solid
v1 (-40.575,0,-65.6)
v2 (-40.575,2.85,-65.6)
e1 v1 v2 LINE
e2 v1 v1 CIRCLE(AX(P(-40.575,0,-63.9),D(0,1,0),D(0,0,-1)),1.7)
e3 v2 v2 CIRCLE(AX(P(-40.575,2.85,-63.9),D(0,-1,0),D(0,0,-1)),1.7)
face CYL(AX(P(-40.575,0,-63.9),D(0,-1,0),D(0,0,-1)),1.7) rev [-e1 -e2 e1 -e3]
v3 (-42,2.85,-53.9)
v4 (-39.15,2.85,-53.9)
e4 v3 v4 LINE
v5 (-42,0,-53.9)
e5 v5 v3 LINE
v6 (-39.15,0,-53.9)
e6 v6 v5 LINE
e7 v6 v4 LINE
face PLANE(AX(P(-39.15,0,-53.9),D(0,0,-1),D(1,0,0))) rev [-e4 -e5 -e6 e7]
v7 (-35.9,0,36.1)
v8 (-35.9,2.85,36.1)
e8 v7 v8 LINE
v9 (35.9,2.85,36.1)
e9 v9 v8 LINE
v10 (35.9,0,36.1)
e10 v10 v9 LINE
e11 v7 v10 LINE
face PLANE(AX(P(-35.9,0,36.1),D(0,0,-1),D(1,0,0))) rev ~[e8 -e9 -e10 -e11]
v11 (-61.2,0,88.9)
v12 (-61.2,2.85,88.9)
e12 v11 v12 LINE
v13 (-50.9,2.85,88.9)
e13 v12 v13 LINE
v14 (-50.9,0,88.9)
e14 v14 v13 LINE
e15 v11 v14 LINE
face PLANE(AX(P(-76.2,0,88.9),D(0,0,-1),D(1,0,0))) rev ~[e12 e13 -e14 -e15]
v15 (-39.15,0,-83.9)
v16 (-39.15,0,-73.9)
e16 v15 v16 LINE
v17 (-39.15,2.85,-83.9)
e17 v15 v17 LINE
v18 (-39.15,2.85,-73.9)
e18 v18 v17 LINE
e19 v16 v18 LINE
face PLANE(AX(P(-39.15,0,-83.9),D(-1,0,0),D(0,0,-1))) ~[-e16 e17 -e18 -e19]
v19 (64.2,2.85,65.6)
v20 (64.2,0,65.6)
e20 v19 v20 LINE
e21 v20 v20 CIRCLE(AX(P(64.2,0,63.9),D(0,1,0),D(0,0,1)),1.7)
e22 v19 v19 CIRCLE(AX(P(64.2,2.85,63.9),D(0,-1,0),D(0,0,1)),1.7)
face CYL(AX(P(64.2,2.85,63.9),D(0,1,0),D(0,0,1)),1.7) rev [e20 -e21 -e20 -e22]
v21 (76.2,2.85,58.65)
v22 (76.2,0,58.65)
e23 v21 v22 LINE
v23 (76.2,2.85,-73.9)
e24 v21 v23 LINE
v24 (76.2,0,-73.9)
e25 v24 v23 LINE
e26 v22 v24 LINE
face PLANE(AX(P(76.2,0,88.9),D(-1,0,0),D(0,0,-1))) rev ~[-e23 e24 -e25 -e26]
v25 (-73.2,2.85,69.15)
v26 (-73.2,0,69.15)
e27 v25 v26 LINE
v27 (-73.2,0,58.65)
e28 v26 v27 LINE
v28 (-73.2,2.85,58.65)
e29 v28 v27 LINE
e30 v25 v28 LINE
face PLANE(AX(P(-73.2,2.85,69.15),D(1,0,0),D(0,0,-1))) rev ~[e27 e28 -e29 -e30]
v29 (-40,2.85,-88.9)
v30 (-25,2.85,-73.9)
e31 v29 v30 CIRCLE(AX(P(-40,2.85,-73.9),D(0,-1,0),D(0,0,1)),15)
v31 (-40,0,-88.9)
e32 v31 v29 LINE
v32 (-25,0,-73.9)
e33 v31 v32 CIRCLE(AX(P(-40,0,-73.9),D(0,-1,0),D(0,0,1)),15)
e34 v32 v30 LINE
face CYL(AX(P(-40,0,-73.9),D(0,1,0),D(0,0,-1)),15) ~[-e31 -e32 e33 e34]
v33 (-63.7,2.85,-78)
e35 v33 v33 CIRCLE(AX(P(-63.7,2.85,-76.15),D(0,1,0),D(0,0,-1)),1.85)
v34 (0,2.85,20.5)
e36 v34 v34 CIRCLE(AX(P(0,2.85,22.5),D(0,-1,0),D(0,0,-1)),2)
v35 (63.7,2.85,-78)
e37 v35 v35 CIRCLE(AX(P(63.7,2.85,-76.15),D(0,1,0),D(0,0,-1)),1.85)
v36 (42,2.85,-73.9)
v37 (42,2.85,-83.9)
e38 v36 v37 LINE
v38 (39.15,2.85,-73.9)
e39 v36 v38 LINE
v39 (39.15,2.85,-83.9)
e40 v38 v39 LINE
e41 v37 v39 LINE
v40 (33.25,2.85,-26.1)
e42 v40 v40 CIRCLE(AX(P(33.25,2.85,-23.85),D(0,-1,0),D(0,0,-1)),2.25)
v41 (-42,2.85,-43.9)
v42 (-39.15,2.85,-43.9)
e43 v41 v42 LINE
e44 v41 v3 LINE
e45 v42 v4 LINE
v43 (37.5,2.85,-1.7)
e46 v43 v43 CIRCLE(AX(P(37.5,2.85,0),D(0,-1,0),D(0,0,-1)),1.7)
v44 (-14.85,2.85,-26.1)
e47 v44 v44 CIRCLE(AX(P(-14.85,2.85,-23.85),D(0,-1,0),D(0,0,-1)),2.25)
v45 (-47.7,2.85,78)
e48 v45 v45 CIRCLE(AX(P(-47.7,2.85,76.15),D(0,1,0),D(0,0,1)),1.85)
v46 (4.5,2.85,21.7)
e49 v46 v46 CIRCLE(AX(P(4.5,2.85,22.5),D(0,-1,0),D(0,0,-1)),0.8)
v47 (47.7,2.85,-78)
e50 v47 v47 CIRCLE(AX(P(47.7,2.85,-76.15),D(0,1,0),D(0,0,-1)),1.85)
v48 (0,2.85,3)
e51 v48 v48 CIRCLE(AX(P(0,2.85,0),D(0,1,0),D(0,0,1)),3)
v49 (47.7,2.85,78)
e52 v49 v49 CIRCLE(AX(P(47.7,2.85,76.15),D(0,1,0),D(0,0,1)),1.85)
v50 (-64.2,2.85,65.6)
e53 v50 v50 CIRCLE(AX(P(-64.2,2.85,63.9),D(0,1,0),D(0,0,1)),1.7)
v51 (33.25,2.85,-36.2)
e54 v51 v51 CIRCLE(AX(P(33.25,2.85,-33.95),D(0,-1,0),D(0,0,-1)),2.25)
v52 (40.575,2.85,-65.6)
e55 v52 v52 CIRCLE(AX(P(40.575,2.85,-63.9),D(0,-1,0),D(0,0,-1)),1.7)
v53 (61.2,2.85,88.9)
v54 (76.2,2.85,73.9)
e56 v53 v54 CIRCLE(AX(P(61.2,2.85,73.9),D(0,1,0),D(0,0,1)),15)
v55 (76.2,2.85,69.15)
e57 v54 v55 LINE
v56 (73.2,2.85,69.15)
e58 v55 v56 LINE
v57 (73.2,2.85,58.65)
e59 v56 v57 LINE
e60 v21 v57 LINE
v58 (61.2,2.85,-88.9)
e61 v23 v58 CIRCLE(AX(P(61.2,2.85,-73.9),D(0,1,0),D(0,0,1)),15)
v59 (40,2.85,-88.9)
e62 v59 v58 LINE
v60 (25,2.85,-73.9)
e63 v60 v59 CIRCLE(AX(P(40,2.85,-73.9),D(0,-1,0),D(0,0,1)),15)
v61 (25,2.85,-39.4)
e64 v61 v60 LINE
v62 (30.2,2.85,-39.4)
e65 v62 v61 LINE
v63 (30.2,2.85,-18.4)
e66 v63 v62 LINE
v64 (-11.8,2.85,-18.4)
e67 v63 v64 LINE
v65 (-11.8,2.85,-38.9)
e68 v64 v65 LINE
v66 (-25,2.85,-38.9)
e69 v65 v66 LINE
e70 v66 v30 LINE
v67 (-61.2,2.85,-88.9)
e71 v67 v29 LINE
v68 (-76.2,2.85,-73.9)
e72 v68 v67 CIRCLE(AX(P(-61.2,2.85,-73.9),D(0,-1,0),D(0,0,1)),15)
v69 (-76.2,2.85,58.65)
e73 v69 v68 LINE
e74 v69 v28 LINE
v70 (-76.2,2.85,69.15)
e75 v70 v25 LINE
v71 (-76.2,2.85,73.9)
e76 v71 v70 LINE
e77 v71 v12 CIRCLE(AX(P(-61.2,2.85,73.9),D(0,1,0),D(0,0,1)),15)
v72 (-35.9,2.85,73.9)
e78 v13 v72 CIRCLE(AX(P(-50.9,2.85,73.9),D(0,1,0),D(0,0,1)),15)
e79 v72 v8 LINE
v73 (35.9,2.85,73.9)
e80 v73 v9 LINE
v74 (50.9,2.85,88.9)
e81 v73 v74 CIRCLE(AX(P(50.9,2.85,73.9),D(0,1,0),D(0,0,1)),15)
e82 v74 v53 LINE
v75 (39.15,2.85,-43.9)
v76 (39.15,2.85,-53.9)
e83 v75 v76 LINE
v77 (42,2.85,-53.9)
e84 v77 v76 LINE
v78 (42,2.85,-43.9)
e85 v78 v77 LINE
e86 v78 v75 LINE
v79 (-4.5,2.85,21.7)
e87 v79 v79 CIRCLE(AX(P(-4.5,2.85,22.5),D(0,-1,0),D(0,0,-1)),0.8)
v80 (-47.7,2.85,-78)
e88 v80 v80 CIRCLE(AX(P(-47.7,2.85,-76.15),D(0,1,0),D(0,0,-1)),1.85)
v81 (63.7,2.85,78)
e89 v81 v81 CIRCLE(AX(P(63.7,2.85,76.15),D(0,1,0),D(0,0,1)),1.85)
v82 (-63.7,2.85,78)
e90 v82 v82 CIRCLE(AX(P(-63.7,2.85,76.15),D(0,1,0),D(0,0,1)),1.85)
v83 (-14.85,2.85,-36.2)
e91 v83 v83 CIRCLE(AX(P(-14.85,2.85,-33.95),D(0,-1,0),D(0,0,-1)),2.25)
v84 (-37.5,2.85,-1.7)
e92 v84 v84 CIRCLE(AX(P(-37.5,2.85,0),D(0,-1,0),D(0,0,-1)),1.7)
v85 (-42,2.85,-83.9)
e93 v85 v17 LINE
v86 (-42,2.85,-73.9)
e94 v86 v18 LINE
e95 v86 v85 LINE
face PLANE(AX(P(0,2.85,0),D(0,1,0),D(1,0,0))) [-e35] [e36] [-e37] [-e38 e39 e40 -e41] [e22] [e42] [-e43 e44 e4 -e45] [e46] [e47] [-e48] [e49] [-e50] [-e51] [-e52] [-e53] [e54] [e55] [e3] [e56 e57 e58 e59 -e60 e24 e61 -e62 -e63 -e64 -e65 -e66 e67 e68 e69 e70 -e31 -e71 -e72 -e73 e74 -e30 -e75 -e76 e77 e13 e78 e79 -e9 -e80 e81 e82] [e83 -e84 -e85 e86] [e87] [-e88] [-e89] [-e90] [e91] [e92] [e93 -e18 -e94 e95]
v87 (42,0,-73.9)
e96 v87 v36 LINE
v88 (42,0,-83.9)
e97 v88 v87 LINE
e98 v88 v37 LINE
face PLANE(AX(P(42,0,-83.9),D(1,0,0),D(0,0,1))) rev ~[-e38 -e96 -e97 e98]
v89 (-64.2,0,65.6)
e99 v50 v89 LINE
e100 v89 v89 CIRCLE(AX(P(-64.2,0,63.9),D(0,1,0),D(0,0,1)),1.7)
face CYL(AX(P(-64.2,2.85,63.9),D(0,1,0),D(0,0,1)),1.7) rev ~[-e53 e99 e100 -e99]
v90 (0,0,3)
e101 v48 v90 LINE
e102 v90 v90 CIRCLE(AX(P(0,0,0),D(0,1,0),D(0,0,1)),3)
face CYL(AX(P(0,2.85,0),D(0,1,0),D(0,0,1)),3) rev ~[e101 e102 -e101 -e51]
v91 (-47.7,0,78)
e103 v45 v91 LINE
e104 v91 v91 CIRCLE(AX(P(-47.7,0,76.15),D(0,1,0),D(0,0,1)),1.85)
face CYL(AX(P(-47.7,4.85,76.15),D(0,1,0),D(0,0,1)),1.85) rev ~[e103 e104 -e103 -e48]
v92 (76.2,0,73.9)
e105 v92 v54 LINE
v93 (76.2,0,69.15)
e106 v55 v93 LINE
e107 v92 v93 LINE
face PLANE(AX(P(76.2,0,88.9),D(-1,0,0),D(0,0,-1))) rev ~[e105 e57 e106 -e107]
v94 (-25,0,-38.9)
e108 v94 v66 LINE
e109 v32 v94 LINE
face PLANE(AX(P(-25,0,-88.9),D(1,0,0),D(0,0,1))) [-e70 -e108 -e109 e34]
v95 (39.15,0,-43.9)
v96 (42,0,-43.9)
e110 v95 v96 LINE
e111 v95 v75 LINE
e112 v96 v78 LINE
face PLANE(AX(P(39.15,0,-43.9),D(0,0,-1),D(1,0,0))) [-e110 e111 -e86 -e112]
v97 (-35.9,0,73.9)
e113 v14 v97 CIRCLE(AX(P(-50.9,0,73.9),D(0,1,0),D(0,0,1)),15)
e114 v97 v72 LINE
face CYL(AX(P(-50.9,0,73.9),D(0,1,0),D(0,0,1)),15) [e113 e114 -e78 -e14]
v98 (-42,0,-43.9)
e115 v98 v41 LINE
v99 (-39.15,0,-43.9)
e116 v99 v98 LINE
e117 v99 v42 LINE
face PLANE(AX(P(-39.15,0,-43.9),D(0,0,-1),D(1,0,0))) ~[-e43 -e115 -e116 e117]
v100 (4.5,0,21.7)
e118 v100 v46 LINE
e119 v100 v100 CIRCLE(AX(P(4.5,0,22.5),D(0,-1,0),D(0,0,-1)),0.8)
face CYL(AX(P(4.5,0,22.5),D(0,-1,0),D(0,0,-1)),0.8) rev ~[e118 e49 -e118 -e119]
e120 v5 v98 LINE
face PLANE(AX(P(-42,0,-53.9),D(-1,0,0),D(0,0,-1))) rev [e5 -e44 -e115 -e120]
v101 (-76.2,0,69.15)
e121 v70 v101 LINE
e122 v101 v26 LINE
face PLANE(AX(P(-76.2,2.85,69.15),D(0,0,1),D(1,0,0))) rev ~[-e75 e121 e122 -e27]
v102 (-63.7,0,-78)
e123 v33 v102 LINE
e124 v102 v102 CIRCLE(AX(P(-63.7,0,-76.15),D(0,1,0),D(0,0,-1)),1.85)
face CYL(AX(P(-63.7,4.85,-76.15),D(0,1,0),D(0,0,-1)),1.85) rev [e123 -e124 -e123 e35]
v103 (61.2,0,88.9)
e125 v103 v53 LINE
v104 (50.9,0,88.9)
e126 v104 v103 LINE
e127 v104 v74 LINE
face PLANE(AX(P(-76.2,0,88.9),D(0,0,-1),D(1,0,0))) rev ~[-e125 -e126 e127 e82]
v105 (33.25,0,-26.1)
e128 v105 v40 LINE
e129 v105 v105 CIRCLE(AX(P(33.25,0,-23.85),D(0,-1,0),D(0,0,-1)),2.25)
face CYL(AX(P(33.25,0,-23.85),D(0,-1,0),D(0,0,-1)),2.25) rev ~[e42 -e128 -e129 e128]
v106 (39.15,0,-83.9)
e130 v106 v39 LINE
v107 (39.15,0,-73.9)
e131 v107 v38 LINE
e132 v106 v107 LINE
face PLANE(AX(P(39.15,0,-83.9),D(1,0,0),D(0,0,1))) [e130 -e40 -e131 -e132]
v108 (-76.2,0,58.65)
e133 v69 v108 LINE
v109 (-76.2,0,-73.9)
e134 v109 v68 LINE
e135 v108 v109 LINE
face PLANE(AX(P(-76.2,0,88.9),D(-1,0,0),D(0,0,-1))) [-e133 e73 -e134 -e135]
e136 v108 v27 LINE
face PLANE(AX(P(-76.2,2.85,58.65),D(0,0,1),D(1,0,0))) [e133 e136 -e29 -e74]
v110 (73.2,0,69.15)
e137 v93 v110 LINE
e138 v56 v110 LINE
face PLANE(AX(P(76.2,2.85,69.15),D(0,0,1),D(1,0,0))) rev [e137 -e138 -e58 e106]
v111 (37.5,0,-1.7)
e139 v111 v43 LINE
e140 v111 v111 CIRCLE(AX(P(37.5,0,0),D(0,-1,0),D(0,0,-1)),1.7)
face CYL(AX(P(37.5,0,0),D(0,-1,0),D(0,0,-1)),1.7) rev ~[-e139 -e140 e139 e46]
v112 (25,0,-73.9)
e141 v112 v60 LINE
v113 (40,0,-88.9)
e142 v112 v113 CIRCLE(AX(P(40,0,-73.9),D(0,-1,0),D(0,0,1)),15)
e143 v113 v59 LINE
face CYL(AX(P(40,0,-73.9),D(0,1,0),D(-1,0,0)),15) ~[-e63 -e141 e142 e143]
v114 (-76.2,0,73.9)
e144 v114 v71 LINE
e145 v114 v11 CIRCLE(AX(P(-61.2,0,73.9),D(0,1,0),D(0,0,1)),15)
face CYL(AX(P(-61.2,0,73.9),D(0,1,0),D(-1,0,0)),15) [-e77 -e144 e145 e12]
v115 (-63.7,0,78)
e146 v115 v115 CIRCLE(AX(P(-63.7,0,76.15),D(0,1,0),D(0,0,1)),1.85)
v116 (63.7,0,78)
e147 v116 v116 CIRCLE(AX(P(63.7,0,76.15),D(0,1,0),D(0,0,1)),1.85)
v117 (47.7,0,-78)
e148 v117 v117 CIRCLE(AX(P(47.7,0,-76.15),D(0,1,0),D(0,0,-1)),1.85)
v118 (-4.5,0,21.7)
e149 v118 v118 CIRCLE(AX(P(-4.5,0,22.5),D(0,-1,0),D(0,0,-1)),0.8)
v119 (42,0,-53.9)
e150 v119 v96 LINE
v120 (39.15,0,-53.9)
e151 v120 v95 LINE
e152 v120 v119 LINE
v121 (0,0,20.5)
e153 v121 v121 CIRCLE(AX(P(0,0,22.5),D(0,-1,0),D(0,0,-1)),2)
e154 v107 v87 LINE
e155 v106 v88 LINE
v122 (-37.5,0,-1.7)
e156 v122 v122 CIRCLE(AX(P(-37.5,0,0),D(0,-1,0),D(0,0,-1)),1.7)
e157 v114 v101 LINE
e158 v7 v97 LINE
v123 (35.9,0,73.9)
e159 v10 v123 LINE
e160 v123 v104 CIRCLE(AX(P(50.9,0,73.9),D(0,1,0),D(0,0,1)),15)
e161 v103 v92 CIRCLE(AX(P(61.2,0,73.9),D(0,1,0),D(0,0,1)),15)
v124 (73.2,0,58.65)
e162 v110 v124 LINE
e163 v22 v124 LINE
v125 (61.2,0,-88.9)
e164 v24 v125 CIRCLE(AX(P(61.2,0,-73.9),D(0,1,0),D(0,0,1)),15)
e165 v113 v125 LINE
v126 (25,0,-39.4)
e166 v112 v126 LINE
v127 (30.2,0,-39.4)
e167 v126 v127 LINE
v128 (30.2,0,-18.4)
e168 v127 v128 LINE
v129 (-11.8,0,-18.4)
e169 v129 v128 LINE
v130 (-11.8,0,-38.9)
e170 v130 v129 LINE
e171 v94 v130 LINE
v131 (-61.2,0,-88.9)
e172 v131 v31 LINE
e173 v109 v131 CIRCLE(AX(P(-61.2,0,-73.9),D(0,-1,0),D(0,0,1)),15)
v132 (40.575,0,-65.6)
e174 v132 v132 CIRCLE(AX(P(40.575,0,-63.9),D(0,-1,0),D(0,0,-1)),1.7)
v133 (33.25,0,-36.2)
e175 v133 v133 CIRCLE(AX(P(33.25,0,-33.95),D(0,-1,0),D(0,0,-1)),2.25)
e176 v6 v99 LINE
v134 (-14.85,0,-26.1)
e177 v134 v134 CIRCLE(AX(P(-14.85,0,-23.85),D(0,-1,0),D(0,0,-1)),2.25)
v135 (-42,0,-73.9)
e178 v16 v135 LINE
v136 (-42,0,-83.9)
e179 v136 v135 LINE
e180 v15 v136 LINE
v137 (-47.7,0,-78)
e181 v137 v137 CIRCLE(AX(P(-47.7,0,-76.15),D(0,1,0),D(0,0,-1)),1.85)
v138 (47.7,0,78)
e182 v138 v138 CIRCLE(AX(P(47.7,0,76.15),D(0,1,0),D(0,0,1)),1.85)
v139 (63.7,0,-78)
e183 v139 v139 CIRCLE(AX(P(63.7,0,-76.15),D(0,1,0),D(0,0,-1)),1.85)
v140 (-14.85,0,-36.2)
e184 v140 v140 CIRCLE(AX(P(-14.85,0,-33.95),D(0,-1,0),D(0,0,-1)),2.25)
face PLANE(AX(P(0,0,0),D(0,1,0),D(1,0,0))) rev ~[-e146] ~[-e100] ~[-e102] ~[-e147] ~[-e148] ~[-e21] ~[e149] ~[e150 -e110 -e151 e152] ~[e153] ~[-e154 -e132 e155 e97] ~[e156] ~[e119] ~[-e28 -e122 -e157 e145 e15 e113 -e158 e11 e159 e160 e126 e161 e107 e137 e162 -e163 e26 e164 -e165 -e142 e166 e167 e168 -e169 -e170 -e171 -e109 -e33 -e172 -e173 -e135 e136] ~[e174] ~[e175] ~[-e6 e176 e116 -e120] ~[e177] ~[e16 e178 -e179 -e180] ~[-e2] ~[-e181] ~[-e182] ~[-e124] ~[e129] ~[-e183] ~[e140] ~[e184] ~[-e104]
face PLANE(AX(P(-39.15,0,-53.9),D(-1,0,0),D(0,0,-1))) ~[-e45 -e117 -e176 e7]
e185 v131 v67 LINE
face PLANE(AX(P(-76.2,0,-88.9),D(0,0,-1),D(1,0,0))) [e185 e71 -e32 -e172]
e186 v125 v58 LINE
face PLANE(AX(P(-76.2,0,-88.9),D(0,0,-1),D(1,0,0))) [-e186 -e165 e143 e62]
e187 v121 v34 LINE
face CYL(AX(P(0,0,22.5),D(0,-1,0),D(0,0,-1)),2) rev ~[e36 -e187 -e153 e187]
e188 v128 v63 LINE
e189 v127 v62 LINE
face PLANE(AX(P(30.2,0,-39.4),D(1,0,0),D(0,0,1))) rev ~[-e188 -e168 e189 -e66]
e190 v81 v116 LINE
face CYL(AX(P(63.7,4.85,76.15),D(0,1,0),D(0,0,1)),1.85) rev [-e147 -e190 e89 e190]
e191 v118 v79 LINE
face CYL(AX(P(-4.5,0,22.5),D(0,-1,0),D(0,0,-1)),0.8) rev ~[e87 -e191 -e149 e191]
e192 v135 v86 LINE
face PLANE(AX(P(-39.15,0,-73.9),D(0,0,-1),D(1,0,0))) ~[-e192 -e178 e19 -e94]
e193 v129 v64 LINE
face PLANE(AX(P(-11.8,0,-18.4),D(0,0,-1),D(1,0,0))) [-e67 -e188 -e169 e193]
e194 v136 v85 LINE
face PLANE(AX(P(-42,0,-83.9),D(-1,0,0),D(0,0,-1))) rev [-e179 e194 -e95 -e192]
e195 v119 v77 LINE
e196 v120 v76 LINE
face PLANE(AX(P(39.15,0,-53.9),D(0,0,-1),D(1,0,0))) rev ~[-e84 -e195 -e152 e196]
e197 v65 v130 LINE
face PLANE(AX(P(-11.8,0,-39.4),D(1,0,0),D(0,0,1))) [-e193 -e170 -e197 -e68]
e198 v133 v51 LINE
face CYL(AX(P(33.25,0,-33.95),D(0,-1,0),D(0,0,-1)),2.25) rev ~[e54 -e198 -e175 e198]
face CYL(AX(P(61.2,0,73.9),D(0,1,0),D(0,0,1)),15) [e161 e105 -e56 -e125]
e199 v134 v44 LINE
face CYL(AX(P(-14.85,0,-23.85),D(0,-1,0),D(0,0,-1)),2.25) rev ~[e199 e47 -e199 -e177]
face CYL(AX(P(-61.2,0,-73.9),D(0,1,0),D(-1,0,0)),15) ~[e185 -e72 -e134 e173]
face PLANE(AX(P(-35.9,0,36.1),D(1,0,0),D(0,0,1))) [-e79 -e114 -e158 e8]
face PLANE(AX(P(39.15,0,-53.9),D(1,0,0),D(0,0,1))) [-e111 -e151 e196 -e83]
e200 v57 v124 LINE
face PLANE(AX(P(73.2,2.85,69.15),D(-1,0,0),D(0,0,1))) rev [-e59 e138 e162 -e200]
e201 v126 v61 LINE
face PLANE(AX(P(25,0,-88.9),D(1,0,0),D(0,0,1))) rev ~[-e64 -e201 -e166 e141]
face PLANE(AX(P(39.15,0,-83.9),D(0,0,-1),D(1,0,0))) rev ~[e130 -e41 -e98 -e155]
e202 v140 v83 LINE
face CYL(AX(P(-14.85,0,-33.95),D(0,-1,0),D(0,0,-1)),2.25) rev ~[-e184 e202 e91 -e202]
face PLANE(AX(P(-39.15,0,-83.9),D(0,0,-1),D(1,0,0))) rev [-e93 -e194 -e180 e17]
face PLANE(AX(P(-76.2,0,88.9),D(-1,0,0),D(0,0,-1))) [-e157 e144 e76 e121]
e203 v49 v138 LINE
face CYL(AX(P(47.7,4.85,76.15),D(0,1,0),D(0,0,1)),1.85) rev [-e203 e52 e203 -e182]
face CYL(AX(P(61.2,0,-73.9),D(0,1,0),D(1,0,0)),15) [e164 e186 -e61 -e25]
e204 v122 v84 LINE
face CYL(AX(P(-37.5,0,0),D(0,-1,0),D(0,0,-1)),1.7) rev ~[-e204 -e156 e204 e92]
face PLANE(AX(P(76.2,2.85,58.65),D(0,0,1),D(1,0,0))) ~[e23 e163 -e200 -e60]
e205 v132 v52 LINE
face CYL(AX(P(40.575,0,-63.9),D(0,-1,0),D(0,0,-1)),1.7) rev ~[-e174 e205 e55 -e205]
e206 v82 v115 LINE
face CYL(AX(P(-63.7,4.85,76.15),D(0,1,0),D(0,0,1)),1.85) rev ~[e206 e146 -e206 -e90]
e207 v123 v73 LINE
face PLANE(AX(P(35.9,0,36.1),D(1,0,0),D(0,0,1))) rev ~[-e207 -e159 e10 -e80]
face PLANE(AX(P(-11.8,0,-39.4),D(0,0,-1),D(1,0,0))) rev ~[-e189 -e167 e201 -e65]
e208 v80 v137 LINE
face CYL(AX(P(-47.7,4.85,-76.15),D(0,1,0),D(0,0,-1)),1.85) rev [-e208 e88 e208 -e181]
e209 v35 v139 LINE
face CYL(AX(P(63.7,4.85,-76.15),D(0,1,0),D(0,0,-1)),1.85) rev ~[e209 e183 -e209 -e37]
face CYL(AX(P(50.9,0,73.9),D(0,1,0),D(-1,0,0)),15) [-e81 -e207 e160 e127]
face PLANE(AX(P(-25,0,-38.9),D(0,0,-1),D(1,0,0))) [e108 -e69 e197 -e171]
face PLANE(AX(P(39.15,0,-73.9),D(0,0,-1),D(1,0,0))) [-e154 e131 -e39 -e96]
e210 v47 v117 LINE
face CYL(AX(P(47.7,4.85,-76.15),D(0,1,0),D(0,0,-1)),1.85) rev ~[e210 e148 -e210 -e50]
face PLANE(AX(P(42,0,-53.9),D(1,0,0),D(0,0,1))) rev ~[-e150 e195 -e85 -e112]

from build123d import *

# Parameters (mm, degrees)
SKETCH4_W               = 152.4
SKETCH4_H               = 177.8
BOSS_EXTRUDE2_DEPTH     = 2.85
SKETCH5_R               = 1.5
CUT_EXTRUDE1_DEPTH      = 118.122894858
SKETCH6_R               = 3
CUT_EXTRUDE2_DEPTH      = 118.122894858
SKETCH7_R               = 1.7
CUT_EXTRUDE3_DEPTH      = 118.122894858
SKETCH8_W               = 50
SKETCH8_H               = 50
CUT_EXTRUDE4_DEPTH      = 118.122894858
SKETCH9_R               = 1.7
SKETCH9_W               = 3
SKETCH9_H               = 10.5
CUT_EXTRUDE5_DEPTH      = 118.122894858
SKETCH10_W              = 71.8
SKETCH10_H              = 52.8
CUT_EXTRUDE6_DEPTH      = 118.122894858
SKETCH11_R              = 2.25
SKETCH11_W              = 42
SKETCH11_H              = 21
CUT_EXTRUDE7_DEPTH      = 118.122894858
SKETCH12_R              = 2
SKETCH12_R_2            = 0.8
CUT_EXTRUDE8_DEPTH      = 118.122894858
SKETCH13_R              = 1.85
CUT_EXTRUDE9_DEPTH      = 118.188619328
MIRROR3_COPY_1_SKETCH_R = 1.85
MIRROR3_COPY_1_DEPTH    = 118.188619328
FILLET1_R               = 15
FILLET2_R               = 15
SKETCH14_R              = 1.7
SKETCH14_W              = 2.85
SKETCH14_H              = 10
CUT_EXTRUDE10_DEPTH     = 118.122894858


with BuildPart() as part:
    # Sketch4 → Boss-Extrude2 (new body)
    with BuildSketch(Plane(origin=(0, 0, 0), x_dir=(1, 0, 0), z_dir=(0, 1, 0))):
        Rectangle(SKETCH4_W, SKETCH4_H)
    extrude(amount=BOSS_EXTRUDE2_DEPTH)

    # Sketch5 → Cut-Extrude1 (cut, through all)
    with BuildSketch(Plane.XZ):
        with Locations(Location((0, -63.9, 0), (0, 0, 270))):
            Circle(SKETCH5_R)
    extrude(amount=-CUT_EXTRUDE1_DEPTH, mode=Mode.SUBTRACT)

    # Sketch6 → Cut-Extrude2 (cut, through all)
    with BuildSketch(Plane(origin=(0, 2.85, 0), x_dir=(1, 0, 0), z_dir=(0, 1, 0))):
        with Locations(Location((0, 0, 0), (0, 0, 270))):
            Circle(SKETCH6_R)
    extrude(amount=-CUT_EXTRUDE2_DEPTH, mode=Mode.SUBTRACT)

    # Sketch7 → Cut-Extrude3 (cut, through all)
    with BuildSketch(Plane.XZ):
        with Locations(Location((37.5, 0, 0), (0, 0, 270))):
            Circle(SKETCH7_R)
        with Locations(Location((-37.5, 0, 0), (0, 0, 270))):
            Circle(SKETCH7_R)
    extrude(amount=-CUT_EXTRUDE3_DEPTH, mode=Mode.SUBTRACT)

    # Sketch8 → Cut-Extrude4 (cut, through all)
    with BuildSketch(Plane.XZ):
        with Locations((0, -63.9)):
            Rectangle(SKETCH8_W, SKETCH8_H)
    extrude(amount=-CUT_EXTRUDE4_DEPTH, mode=Mode.SUBTRACT)

    # Sketch9 → Cut-Extrude5 (cut, through all)
    with BuildSketch(Plane(origin=(0, 2.85, 0), x_dir=(1, 0, 0), z_dir=(0, 1, 0))):
        with Locations(Location((-64.2, -63.9, 0), (0, 0, 270))):
            Circle(SKETCH9_R)
        with Locations((-74.7, -63.9)):
            Rectangle(SKETCH9_W, SKETCH9_H)
    cut_extrude5 = extrude(amount=-CUT_EXTRUDE5_DEPTH, mode=Mode.SUBTRACT)

    # Sketch10 → Cut-Extrude6 (cut, through all)
    with BuildSketch(Plane.XZ):
        with Locations((0, 62.5)):
            Rectangle(SKETCH10_W, SKETCH10_H)
    extrude(amount=-CUT_EXTRUDE6_DEPTH, mode=Mode.SUBTRACT)

    # Sketch11 → Cut-Extrude7 (cut, through all)
    with BuildSketch(Plane.XZ):
        with Locations(Location((-14.85, -23.85, 0), (0, 0, 270))):
            Circle(SKETCH11_R)
        with Locations(Location((-14.85, -33.95, 0), (0, 0, 270))):
            Circle(SKETCH11_R)
        with Locations(Location((33.25, -33.95, 0), (0, 0, 270))):
            Circle(SKETCH11_R)
        with Locations(Location((33.25, -23.85, 0), (0, 0, 270))):
            Circle(SKETCH11_R)
        with Locations((9.2, -28.9)):
            Rectangle(SKETCH11_W, SKETCH11_H)
    extrude(amount=-CUT_EXTRUDE7_DEPTH, mode=Mode.SUBTRACT)

    # Sketch12 → Cut-Extrude8 (cut, through all)
    with BuildSketch(Plane.XZ):
        with Locations(Location((0, 22.5, 0), (0, 0, 270))):
            Circle(SKETCH12_R)
        with Locations(Location((-4.5, 22.5, 0), (0, 0, 270))):
            Circle(SKETCH12_R_2)
        with Locations(Location((4.5, 22.5, 0), (0, 0, 270))):
            Circle(SKETCH12_R_2)
    extrude(amount=-CUT_EXTRUDE8_DEPTH, mode=Mode.SUBTRACT)

    # Sketch13 → Cut-Extrude9 (cut, through all)
    with BuildSketch(Plane(origin=(0, 4.85, 0), x_dir=(1, 0, 0), z_dir=(0, 1, 0))):
        with Locations(Location((-63.7, -76.15, 0), (0, 0, 270))):
            Circle(SKETCH13_R)
        with Locations(Location((-47.7, -76.15, 0), (0, 0, 270))):
            Circle(SKETCH13_R)
    cut_extrude9 = extrude(amount=-CUT_EXTRUDE9_DEPTH, mode=Mode.SUBTRACT)

    # Mirror1: Cut-Extrude5 across plane
    add(cut_extrude5.mirror(Plane(origin=(0, 0, 0), x_dir=(0, 0, 1), z_dir=(1, 0, 0))), mode=Mode.SUBTRACT)

    # Mirror2: Cut-Extrude9 across plane
    add(cut_extrude9.mirror(Plane.XY), mode=Mode.SUBTRACT)

    # Mirror3: Cut-Extrude9 across plane
    add(cut_extrude9.mirror(Plane(origin=(0, 0, 0), x_dir=(0, 0, 1), z_dir=(1, 0, 0))), mode=Mode.SUBTRACT)

    # Mirror3 copy 1 sketch → Mirror3 copy 1 (cut, through all)
    with BuildSketch(Plane(origin=(0, 4.85, 0), x_dir=(-1, 0, 0), z_dir=(0, 1, 0))):
        with Locations(Location((-63.7, -76.15, 0), (0, 0, 270))):
            Circle(MIRROR3_COPY_1_SKETCH_R)
        with Locations(Location((-47.7, -76.15, 0), (0, 0, 270))):
            Circle(MIRROR3_COPY_1_SKETCH_R)
    extrude(amount=-MIRROR3_COPY_1_DEPTH, mode=Mode.SUBTRACT)

    # Fillet1
    fillet1_edges = [part.edges().sort_by_distance(p)[0] for p in [
        (76.2, 1.425, 88.9),
        (-76.2, 1.425, 88.9),
        (-76.2, 1.425, -88.9),
        (76.2, 1.425, -88.9),
    ]]
    fillet(fillet1_edges, radius=FILLET1_R)

    # Fillet2
    fillet2_edges = [part.edges().sort_by_distance(p)[0] for p in [
        (25, 1.425, -88.9),
        (-25, 1.425, -88.9),
        (-35.9, 1.425, 88.9),
        (35.9, 1.425, 88.9),
    ]]
    fillet(fillet2_edges, radius=FILLET2_R)

    # Sketch14 → Cut-Extrude10 (cut, through all)
    with BuildSketch(Plane.XZ):
        with Locations(Location((40.575, -63.9, 0), (0, 0, 270))):
            Circle(SKETCH14_R)
        with Locations((40.575, -78.9)):
            Rectangle(SKETCH14_W, SKETCH14_H)
        with Locations((40.575, -48.9)):
            Rectangle(SKETCH14_W, SKETCH14_H)
    cut_extrude10 = extrude(amount=-CUT_EXTRUDE10_DEPTH, mode=Mode.SUBTRACT)

    # Mirror4: Cut-Extrude10 across plane
    add(cut_extrude10.mirror(Plane(origin=(0, 0, 0), x_dir=(0, 0, 1), z_dir=(1, 0, 0))), mode=Mode.SUBTRACT)


solid = part.part
